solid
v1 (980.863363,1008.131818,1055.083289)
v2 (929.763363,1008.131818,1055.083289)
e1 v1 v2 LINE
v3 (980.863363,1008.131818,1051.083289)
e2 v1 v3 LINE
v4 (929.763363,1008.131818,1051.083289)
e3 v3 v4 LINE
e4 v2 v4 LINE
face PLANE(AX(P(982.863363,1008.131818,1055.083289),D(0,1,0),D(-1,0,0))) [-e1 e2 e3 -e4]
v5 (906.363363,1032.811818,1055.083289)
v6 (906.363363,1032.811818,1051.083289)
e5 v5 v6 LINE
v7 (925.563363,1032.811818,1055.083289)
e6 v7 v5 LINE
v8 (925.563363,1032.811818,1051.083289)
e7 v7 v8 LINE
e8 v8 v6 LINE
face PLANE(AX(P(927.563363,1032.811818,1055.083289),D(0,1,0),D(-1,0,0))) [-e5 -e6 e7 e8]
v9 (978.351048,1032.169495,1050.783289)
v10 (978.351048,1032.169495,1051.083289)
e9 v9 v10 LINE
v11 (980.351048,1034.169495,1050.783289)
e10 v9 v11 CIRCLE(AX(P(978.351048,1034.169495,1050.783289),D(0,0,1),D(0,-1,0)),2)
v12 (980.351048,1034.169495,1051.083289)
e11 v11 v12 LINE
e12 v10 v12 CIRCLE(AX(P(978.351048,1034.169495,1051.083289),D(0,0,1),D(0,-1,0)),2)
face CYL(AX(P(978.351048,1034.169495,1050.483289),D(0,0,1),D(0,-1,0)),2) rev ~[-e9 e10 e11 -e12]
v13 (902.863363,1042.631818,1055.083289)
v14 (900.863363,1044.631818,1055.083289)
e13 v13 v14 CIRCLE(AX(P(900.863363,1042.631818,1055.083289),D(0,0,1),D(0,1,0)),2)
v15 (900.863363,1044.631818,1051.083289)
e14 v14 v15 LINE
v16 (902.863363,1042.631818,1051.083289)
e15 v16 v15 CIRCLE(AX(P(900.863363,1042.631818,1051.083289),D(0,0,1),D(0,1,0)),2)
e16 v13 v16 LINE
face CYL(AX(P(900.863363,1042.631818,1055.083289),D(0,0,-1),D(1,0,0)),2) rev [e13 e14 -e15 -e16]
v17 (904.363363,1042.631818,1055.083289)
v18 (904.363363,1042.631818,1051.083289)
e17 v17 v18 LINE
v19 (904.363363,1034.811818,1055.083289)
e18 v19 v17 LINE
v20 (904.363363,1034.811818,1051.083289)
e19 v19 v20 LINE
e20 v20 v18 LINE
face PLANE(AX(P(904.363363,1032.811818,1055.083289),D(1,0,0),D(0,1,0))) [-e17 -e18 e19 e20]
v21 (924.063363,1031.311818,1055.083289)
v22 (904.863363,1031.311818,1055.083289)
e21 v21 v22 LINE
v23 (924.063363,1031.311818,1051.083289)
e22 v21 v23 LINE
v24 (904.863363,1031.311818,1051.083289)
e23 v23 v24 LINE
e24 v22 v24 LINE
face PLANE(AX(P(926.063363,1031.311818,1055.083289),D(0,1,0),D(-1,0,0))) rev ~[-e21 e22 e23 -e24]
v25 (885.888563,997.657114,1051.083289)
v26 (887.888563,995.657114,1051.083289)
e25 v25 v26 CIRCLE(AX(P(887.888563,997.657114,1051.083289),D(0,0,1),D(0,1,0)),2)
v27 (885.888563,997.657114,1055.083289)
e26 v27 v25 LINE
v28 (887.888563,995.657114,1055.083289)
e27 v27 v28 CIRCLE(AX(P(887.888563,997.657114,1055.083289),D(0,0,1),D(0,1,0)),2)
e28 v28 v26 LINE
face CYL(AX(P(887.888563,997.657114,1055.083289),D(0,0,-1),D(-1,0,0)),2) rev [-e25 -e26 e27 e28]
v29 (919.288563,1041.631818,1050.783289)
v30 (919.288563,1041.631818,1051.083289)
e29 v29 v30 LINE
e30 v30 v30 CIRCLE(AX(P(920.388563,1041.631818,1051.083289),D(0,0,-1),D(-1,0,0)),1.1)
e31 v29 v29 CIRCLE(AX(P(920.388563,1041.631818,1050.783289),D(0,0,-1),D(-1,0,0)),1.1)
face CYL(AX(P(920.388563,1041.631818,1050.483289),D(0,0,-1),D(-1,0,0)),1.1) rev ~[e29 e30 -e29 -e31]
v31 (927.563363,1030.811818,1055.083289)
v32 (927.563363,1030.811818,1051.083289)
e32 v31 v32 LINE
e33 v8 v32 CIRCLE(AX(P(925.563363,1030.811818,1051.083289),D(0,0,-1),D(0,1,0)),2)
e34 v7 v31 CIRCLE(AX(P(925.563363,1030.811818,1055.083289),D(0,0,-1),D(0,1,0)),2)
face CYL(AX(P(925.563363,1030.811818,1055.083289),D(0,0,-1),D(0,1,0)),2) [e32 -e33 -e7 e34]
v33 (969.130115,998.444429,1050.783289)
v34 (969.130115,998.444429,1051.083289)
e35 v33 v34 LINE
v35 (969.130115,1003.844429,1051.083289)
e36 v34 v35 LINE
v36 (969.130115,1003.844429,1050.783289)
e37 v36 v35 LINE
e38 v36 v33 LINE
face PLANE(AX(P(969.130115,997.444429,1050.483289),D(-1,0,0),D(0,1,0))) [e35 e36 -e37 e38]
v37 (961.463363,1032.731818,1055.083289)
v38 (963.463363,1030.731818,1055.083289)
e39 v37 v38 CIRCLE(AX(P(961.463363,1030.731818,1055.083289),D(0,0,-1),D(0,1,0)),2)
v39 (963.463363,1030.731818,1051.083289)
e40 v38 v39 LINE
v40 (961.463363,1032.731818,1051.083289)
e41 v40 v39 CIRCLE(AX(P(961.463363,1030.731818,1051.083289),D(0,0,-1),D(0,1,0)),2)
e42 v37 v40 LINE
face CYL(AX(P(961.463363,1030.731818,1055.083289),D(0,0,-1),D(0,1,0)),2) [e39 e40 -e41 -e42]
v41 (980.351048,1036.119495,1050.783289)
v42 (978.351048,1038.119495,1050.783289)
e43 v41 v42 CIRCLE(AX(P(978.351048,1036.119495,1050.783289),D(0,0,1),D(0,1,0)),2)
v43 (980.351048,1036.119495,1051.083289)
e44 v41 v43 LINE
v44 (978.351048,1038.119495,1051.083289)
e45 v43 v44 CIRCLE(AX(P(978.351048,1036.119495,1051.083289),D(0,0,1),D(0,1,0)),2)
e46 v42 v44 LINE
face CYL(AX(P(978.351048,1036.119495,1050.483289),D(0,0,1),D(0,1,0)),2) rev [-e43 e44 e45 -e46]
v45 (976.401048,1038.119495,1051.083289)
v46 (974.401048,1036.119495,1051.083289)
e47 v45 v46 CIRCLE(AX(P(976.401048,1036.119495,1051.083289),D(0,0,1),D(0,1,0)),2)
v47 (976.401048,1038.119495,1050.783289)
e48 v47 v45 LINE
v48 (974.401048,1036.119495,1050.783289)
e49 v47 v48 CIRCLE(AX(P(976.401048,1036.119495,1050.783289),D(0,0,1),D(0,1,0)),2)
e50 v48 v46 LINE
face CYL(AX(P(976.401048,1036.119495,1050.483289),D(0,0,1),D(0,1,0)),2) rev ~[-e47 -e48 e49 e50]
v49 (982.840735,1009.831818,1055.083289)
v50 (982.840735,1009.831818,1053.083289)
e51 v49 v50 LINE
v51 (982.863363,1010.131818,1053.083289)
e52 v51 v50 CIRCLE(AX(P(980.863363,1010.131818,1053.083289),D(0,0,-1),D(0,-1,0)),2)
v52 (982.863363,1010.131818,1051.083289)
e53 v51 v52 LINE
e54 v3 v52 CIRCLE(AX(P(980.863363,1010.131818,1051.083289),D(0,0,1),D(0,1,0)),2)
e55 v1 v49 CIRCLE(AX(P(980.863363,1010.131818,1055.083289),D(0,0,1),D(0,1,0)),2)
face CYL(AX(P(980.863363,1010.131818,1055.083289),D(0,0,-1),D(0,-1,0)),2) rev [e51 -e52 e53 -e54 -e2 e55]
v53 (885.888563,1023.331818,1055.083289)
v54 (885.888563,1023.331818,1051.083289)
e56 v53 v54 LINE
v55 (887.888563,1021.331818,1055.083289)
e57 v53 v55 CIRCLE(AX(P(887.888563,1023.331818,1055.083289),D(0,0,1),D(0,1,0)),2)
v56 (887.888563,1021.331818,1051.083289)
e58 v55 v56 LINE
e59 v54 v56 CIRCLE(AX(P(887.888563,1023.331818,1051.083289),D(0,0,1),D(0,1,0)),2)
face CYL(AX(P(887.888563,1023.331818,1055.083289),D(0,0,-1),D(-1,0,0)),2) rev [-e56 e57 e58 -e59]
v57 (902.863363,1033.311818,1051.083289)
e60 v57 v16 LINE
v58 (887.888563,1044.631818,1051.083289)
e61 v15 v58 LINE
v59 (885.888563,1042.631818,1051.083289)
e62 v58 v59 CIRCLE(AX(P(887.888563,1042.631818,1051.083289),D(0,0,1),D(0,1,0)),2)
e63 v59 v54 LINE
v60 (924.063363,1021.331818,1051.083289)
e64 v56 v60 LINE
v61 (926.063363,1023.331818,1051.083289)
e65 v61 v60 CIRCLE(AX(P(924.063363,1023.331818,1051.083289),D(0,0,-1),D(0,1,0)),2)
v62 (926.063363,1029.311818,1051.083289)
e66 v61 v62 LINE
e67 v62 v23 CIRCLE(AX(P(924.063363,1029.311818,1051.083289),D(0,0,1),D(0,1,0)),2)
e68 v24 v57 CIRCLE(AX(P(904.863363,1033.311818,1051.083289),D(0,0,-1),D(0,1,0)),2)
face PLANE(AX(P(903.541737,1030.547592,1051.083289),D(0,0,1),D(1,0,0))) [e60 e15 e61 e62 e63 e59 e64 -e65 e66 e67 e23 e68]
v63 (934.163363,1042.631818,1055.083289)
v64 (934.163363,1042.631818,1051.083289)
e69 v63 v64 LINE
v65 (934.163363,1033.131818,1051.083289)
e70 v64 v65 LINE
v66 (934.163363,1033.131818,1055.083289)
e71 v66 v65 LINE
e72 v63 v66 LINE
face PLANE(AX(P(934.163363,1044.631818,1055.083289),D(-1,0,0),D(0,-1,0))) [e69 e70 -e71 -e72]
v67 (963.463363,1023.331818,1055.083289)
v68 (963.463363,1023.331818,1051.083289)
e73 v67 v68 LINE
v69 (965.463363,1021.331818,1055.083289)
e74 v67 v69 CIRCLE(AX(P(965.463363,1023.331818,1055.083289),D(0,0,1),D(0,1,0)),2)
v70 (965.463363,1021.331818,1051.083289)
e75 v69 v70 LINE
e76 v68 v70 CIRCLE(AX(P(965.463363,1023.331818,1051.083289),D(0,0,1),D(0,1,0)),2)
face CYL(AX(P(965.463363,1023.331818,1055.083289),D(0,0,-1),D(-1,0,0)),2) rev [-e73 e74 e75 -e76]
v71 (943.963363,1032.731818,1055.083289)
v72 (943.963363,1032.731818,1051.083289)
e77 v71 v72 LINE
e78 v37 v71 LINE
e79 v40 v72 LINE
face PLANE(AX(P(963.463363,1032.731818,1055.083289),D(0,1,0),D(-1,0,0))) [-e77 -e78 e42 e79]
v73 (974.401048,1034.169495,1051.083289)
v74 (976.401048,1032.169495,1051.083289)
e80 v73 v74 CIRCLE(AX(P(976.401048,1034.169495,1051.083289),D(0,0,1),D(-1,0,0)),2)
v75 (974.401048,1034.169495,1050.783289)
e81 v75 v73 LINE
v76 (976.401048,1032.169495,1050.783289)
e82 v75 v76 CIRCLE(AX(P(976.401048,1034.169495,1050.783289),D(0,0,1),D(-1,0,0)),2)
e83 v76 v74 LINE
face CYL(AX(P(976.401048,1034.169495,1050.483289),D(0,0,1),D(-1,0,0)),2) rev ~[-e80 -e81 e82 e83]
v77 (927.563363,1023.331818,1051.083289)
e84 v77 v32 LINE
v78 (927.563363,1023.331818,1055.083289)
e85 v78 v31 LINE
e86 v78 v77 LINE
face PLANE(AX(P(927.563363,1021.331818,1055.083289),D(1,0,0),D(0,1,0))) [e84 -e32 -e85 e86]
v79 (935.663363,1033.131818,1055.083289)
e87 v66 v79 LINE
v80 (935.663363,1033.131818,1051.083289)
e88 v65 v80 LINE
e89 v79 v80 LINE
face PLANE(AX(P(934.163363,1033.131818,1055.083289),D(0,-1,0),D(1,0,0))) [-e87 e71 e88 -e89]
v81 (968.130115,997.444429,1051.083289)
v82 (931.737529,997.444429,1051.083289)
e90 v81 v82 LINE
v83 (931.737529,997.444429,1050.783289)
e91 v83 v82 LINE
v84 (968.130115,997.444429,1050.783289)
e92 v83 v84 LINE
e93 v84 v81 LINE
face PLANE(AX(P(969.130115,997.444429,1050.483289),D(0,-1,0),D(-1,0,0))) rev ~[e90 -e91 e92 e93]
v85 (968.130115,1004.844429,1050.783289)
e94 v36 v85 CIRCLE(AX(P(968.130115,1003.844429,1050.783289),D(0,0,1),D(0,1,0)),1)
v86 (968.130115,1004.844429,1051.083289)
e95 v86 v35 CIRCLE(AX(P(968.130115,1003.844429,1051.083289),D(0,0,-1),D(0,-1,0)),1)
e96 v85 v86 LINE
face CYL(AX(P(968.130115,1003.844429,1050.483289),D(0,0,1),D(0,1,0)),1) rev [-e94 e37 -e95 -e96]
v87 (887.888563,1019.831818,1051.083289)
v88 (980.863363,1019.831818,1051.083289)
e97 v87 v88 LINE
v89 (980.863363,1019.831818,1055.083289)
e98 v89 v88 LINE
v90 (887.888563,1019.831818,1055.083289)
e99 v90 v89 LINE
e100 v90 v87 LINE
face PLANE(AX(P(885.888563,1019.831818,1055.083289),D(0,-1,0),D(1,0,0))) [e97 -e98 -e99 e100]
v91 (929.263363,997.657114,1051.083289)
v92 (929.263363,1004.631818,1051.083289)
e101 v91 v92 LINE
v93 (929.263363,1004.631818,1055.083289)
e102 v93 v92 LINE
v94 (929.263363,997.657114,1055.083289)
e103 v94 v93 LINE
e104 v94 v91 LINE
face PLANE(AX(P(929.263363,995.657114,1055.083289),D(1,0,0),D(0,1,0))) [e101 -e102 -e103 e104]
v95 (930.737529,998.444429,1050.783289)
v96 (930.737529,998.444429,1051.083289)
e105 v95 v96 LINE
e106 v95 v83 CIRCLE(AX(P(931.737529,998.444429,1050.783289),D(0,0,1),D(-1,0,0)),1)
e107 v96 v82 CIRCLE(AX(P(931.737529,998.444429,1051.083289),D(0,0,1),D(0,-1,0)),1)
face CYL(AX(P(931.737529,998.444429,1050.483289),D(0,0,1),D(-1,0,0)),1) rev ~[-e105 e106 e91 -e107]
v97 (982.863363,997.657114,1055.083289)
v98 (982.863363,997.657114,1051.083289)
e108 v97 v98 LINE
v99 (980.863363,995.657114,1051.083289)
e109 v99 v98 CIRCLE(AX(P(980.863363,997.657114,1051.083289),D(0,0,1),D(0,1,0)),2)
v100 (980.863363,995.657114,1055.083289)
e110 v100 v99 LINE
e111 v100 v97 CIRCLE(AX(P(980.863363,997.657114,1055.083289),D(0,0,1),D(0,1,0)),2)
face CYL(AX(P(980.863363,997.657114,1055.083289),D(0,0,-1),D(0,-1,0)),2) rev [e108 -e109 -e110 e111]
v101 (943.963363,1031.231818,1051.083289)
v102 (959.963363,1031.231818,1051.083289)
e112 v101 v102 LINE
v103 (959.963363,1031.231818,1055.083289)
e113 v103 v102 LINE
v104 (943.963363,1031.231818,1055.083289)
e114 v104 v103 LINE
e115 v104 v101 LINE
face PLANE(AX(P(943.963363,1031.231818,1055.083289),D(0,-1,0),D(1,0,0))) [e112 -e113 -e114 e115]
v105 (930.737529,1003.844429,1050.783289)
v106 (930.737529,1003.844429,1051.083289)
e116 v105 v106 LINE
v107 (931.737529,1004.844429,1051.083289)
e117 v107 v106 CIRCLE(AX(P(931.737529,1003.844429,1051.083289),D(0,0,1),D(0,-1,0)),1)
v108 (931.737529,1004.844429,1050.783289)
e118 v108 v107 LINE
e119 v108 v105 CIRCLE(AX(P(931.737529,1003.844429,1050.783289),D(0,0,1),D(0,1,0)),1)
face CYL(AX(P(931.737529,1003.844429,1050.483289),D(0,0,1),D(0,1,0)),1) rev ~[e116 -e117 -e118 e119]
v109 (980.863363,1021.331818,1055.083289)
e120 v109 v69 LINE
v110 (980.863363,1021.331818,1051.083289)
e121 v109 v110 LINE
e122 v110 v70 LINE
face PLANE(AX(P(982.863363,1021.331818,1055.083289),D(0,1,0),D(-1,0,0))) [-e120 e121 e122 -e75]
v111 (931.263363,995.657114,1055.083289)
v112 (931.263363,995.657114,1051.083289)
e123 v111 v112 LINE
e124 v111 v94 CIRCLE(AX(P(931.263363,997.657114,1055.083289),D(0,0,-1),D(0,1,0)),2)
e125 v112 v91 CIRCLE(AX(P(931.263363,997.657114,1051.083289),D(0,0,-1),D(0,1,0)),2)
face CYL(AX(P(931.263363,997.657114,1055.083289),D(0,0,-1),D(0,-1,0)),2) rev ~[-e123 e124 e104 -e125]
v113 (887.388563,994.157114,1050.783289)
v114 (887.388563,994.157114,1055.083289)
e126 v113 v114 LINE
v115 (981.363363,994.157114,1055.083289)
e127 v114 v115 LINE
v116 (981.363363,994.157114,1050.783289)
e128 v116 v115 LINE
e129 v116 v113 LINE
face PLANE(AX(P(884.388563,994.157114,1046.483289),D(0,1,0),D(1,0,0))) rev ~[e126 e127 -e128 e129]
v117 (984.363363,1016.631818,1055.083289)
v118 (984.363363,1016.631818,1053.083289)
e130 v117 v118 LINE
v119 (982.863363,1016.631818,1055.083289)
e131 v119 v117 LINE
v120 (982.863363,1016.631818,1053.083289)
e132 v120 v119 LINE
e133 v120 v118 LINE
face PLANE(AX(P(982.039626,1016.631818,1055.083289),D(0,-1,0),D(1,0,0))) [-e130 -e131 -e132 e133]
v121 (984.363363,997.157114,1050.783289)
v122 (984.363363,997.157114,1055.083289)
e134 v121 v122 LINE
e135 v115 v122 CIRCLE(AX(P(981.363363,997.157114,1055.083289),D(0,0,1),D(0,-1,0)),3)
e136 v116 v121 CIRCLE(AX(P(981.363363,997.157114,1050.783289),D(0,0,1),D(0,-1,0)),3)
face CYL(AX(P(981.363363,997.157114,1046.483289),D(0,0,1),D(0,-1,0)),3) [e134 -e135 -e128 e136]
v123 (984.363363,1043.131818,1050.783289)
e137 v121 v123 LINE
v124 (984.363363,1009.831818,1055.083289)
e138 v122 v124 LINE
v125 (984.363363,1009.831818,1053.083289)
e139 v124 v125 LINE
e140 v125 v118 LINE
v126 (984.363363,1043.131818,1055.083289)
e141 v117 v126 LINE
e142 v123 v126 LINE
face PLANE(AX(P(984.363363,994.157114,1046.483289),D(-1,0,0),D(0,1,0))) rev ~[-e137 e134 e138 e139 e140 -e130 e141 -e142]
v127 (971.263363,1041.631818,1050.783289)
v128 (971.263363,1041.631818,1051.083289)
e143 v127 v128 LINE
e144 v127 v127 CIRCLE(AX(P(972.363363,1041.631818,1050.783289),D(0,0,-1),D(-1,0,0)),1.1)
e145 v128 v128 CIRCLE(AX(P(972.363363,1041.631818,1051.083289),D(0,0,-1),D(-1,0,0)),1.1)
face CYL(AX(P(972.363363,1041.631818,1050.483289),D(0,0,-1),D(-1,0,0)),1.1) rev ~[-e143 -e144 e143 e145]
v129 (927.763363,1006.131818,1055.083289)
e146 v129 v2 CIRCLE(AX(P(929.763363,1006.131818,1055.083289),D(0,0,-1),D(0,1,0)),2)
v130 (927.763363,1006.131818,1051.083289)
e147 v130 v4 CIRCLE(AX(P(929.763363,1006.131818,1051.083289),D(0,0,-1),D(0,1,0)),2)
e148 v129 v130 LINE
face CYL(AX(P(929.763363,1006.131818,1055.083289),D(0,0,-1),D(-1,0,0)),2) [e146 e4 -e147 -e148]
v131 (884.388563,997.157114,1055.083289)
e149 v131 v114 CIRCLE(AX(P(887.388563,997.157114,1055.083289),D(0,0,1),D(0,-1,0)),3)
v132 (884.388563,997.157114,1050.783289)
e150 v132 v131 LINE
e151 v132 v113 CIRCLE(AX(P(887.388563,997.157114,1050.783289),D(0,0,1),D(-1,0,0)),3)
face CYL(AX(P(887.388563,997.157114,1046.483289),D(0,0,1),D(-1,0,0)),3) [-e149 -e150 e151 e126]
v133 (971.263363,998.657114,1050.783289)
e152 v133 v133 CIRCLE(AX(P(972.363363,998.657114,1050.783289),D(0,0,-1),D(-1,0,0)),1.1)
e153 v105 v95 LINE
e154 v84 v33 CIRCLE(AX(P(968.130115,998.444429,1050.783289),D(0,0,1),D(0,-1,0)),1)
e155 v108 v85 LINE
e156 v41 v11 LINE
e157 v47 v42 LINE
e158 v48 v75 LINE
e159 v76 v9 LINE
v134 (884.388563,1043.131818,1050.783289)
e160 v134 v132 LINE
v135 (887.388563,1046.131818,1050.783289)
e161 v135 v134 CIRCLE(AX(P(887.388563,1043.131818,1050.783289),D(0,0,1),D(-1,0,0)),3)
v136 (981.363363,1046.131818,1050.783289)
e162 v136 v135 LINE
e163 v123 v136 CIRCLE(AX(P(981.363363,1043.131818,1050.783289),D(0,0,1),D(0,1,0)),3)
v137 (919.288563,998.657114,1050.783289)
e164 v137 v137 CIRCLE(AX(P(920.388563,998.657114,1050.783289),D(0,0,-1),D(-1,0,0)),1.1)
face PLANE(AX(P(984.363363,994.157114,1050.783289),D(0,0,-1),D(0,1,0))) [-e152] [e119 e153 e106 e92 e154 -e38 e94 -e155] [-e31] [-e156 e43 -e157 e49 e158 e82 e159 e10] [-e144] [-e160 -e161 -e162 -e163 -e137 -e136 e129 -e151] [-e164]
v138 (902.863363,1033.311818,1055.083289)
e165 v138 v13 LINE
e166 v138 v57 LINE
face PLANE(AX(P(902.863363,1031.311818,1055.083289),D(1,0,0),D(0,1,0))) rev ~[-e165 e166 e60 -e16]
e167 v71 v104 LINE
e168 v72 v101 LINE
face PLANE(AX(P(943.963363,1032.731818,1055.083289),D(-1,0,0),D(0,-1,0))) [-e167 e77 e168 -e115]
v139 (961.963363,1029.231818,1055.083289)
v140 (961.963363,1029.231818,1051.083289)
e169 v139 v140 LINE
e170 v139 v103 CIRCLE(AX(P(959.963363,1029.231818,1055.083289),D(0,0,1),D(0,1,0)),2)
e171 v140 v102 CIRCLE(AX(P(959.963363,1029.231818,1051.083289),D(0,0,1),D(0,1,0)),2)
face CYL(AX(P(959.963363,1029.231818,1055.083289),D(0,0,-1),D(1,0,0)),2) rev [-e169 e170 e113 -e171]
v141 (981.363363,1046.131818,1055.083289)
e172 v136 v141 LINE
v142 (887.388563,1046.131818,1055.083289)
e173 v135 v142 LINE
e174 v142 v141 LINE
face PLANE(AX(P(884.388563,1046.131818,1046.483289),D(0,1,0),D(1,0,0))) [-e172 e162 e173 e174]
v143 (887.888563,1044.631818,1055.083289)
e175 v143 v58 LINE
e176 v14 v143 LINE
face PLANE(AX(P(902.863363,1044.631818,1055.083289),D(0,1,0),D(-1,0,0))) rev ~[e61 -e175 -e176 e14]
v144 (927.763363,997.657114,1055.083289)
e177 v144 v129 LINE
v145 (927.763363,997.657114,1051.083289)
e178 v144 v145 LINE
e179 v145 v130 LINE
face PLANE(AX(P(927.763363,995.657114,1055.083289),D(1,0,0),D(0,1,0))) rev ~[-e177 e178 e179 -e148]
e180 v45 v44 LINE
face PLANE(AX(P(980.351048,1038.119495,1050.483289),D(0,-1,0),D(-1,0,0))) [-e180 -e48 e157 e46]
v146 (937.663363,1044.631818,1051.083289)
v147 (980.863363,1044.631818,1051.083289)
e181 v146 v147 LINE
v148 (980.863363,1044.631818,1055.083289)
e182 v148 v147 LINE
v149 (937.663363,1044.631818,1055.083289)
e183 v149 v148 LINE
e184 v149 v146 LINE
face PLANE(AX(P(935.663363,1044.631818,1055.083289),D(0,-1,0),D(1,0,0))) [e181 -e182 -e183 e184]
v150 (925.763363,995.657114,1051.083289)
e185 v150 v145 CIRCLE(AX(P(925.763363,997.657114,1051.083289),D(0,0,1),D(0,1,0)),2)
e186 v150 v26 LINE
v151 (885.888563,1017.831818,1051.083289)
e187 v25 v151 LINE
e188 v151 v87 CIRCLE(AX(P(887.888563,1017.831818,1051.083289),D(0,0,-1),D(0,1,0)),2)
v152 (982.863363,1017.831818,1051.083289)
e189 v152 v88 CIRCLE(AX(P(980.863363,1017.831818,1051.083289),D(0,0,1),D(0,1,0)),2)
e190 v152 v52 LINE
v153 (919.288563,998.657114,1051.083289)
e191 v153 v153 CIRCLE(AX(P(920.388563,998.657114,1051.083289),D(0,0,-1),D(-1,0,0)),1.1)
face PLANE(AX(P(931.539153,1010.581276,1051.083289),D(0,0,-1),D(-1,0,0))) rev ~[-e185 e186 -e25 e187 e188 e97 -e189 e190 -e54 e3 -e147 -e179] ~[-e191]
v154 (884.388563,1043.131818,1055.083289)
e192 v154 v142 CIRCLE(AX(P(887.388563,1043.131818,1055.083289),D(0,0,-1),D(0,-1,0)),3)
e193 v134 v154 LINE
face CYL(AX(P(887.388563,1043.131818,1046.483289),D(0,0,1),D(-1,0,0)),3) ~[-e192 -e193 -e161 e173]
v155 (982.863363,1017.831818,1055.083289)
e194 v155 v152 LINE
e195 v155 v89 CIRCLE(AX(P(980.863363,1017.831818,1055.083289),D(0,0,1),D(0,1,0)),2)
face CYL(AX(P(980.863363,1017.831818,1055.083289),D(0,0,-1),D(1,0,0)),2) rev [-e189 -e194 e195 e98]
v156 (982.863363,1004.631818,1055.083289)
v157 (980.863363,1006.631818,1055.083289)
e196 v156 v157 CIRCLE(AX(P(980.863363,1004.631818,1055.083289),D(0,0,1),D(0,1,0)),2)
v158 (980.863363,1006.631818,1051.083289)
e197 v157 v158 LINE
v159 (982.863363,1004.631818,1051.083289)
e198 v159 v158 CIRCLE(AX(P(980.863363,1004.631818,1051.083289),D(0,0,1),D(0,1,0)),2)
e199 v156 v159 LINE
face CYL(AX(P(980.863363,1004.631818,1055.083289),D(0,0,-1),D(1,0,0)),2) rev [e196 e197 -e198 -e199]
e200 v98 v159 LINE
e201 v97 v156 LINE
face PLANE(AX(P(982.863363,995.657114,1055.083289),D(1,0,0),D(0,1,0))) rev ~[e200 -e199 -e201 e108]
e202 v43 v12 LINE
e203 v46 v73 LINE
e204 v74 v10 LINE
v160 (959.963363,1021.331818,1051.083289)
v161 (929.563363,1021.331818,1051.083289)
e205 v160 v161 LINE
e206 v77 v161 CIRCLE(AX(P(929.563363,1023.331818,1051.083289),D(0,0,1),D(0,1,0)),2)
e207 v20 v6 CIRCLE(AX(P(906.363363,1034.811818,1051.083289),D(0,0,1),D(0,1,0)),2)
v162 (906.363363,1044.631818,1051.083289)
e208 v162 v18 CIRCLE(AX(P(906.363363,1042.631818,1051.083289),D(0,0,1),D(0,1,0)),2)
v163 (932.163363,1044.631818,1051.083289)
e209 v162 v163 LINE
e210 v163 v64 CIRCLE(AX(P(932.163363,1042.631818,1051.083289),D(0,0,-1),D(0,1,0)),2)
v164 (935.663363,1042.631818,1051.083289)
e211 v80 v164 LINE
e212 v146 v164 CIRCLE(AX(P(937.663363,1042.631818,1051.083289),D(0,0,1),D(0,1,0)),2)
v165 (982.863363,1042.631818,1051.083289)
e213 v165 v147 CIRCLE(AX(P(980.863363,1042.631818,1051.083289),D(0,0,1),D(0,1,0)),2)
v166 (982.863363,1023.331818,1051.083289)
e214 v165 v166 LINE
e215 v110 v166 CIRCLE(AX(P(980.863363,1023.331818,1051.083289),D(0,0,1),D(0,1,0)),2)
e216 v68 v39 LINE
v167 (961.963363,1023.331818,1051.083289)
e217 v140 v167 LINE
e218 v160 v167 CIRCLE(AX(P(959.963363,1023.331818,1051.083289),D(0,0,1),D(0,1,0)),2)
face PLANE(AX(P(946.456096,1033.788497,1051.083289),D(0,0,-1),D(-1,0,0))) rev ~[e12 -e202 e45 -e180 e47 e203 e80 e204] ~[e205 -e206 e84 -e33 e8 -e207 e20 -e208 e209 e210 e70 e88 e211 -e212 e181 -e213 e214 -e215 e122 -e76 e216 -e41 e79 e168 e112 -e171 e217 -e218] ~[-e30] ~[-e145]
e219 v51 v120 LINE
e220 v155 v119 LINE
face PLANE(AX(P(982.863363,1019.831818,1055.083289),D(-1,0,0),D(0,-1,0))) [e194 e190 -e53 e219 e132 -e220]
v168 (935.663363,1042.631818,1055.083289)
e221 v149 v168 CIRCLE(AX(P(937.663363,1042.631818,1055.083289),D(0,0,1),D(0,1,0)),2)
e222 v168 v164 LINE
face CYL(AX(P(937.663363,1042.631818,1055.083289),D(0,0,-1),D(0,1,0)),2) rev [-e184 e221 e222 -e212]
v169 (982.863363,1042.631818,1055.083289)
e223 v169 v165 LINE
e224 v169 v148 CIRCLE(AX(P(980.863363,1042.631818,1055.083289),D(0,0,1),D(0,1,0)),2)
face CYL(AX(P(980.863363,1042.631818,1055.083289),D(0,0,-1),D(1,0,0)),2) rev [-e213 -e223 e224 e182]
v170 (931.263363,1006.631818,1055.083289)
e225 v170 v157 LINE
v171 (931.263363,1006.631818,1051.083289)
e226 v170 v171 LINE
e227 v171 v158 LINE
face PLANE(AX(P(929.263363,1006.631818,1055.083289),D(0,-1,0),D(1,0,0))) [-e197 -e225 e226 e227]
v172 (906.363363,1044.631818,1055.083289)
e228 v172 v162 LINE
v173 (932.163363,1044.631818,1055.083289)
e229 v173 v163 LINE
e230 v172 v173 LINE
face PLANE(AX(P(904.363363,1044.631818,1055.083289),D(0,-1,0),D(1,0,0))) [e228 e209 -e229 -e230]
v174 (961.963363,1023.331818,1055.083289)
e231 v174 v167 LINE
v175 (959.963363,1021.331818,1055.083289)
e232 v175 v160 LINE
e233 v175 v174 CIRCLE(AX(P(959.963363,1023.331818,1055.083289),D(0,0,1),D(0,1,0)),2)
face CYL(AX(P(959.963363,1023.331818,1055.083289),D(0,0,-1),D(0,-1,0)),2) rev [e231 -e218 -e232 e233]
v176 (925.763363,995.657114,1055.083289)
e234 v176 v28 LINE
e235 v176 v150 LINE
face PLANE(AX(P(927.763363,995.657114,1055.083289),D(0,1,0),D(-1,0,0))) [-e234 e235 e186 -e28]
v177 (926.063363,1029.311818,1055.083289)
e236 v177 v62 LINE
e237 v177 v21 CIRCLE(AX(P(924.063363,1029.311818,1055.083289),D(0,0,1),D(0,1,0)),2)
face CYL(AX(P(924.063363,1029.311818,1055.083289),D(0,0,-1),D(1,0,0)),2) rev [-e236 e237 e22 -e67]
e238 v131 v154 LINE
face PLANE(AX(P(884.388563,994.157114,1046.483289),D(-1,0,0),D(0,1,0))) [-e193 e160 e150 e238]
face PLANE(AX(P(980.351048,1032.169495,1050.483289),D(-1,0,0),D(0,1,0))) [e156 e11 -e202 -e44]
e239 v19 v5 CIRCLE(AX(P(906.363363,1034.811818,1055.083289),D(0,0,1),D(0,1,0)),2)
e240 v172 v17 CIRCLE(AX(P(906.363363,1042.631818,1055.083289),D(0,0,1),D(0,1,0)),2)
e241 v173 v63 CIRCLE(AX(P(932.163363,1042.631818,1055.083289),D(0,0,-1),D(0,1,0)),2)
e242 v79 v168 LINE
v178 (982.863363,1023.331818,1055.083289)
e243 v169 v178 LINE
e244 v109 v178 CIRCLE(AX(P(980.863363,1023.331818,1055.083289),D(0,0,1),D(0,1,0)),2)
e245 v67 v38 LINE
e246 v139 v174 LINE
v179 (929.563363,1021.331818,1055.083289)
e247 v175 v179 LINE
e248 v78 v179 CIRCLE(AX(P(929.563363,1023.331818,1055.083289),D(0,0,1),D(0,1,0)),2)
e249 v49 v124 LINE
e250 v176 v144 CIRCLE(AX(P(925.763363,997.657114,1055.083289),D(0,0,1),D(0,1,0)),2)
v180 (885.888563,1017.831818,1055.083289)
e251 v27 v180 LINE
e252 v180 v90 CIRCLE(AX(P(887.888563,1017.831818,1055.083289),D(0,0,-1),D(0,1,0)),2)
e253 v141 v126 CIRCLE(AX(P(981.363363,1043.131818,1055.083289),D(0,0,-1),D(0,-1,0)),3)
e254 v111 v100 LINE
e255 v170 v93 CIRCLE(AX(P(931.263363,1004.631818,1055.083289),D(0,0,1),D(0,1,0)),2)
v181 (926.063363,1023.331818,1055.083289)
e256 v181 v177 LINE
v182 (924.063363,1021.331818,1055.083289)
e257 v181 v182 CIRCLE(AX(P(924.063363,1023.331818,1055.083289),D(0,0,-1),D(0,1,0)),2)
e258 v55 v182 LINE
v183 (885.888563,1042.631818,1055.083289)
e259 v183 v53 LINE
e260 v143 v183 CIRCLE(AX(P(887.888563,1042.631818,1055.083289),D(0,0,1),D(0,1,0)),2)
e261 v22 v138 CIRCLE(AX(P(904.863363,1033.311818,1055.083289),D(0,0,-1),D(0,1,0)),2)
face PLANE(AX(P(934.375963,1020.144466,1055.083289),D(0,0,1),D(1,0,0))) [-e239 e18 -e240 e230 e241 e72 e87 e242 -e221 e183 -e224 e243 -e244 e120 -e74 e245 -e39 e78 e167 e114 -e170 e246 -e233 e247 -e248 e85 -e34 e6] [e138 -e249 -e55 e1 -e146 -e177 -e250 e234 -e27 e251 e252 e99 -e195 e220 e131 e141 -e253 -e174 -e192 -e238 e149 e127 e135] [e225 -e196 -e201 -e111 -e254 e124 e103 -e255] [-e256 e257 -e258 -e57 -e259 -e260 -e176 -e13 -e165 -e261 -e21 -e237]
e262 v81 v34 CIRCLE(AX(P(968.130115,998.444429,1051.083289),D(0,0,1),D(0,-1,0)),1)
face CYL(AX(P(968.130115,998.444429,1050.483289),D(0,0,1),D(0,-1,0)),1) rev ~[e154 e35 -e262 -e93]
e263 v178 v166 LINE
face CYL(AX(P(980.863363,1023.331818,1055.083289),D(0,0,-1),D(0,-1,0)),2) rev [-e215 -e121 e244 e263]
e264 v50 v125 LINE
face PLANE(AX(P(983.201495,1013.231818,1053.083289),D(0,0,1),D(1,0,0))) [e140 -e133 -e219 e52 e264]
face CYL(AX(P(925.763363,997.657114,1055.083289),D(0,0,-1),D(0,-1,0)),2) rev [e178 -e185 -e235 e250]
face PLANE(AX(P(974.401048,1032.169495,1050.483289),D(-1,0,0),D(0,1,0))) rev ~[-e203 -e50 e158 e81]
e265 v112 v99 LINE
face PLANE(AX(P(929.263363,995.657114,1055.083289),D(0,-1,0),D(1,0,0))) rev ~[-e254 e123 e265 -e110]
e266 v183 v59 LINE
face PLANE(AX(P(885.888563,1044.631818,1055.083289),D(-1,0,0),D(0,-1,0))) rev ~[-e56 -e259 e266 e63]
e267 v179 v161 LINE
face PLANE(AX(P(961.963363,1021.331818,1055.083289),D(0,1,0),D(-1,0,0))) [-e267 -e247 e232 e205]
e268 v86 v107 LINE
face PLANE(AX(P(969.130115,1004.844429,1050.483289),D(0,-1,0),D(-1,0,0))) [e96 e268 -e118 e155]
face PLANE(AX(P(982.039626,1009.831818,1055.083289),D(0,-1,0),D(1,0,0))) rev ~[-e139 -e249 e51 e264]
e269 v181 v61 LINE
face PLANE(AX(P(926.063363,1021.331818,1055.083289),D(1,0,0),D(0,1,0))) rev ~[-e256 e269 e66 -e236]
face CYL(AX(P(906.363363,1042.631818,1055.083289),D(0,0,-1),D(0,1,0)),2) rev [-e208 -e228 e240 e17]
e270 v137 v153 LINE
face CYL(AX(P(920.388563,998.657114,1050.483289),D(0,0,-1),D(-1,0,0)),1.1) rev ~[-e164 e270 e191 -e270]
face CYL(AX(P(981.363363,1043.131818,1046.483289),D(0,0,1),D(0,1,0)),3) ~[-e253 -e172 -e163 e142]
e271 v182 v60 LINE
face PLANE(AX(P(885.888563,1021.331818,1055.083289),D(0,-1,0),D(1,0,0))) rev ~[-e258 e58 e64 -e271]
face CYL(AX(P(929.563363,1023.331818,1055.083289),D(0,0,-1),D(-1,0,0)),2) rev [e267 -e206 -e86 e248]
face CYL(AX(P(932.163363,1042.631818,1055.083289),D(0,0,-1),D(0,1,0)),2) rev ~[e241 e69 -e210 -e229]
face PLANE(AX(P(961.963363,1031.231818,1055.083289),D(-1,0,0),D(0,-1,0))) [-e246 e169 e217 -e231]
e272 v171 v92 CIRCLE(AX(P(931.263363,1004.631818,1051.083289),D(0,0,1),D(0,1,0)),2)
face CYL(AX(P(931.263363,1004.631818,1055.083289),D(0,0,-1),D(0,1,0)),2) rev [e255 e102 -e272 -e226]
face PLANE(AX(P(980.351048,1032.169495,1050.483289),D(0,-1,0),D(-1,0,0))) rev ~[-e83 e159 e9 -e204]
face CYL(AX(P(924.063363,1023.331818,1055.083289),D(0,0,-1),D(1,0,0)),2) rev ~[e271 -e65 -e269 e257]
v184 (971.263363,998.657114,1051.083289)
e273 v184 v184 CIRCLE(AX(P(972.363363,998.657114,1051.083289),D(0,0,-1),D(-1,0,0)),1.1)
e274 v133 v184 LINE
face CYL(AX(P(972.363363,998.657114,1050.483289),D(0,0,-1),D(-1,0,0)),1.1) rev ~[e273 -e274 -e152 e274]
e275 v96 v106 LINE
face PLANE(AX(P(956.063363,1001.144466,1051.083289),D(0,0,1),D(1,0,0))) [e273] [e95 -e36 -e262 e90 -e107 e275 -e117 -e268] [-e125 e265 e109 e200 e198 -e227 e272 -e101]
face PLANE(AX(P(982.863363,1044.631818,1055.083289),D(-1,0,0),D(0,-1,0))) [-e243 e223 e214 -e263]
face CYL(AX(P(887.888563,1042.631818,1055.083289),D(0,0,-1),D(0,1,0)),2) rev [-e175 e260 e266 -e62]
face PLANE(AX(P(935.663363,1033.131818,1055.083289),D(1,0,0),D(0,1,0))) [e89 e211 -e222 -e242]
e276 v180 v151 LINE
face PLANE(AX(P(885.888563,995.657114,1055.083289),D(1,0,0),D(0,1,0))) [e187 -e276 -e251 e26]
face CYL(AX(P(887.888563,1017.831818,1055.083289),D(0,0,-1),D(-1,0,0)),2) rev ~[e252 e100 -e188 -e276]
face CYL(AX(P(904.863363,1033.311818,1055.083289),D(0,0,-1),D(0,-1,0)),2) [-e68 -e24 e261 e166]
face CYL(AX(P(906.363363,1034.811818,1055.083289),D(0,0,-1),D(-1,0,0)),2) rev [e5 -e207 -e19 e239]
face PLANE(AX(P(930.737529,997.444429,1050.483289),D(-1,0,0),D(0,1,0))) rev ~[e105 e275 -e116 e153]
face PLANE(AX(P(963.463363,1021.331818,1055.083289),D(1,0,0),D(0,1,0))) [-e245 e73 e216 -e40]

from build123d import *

# Parameters (mm, degrees)
SKETCH_1_W           = 99.974800609
SKETCH_1_H           = 51.97470409
EXTRUDE_1_DEPTH      = 8.6
SKETCH_2_W           = 95.974800609
SKETCH_2_H           = 47.97470409
CUT_EXTRUDE_1_DEPTH  = 4
SKETCH_3_W           = 2
SKETCH_3_H           = 10
SKETCH_3_H_2         = 9.97470409
CUT_EXTRUDE_2_DEPTH  = 3.35
SKETCH_4_R           = 1.1
SKETCH_4_W           = 38.392586289
SKETCH_4_H           = 7.4
SKETCH_4_W_2         = 5.95
SKETCH_4_H_2         = 5.95
CUT_EXTRUDE_3_DEPTH  = 1437.448457956
FILLET_1_R           = 3
FILLET_3_R           = 2
SKETCH_12_W          = 9.000025401
SKETCH_12_H          = 9.0000508
EXTRUDE_3_DEPTH      = 2.7
SKETCH_13_W          = 16.992125984
SKETCH_13_H          = 17.047314393
EXTRUDE_4_DEPTH      = 1.9
SKETCH_7_W           = 53.6
SKETCH_7_H           = 10.97470409
CUT_EXTRUDE_14_DEPTH = 4
FILLET_7_R           = 2
FILLET_8_R           = 1
SKETCH_14_W          = 2.323736835
SKETCH_14_H          = 6.8
CUT_EXTRUDE_15_DEPTH = 2
SKETCH_15_W          = 4.3
SKETCH_15_H          = 51.97470409
CUT_EXTRUDE_16_DEPTH = 1490.156636733


with BuildPart() as part:
    # 草图1 → 凸台-拉伸1 (new body)
    with BuildSketch(Plane.XY.offset(1046.483288979)):
        with Locations((934.375963031, 1020.144466268)):
            Rectangle(SKETCH_1_W, SKETCH_1_H)
    extrude(amount=EXTRUDE_1_DEPTH)

    # 草图2 → 切除-拉伸1 (cut)
    with BuildSketch(Plane(origin=(0, 0, 1046.483288979), x_dir=(-1, 0, 0), z_dir=(0, 0, -1))):
        with Locations((-934.375963031, 1020.144466268)):
            Rectangle(SKETCH_2_W, SKETCH_2_H)
    extrude(amount=-CUT_EXTRUDE_1_DEPTH, mode=Mode.SUBTRACT)

    # 草图3 → 切除-拉伸2 (cut)
    with BuildSketch(Plane(origin=(0, 0, 1046.483288979), x_dir=(-1, 0, 0), z_dir=(0, 0, -1))):
        with Locations((-885.388562726, 1034.131818313)):
            Rectangle(SKETCH_3_W, SKETCH_3_H)
        with Locations((-885.388562726, 1020.144466268)):
            Rectangle(SKETCH_3_W, SKETCH_3_H_2)
        with Locations((-885.388562726, 1006.157114223)):
            Rectangle(SKETCH_3_W, SKETCH_3_H)
    extrude(amount=-CUT_EXTRUDE_2_DEPTH, mode=Mode.SUBTRACT)

    # 草图4 → 切除-拉伸3 (cut, through all)
    with BuildSketch(Plane(origin=(0, 0, 1050.483288979), x_dir=(-1, 0, 0), z_dir=(0, 0, -1))):
        with Locations((-920.388562726, 1041.631818313)):
            Circle(SKETCH_4_R)
        with Locations((-920.388562726, 998.657114223)):
            Circle(SKETCH_4_R)
        with Locations((-972.363363335, 998.657114223)):
            Circle(SKETCH_4_R)
        with Locations((-972.363363335, 1041.631818313)):
            Circle(SKETCH_4_R)
        with Locations((-949.933821712, 1001.144429438)):
            Rectangle(SKETCH_4_W, SKETCH_4_H)
        with Locations((-977.376048121, 1035.144495478)):
            Rectangle(SKETCH_4_W_2, SKETCH_4_H_2)
    extrude(amount=-CUT_EXTRUDE_3_DEPTH, mode=Mode.SUBTRACT)

    # 圆角1
    fillet_1_edges = [part.edges().sort_by_distance(p)[0] for p in [
        (884.388562726, 1046.131818313, 1050.783288979),
        (984.363363335, 1046.131818313, 1050.783288979),
        (984.363363335, 994.157114223, 1050.783288979),
        (884.388562726, 994.157114223, 1050.783288979),
    ]]
    fillet(fillet_1_edges, radius=FILLET_1_R)

    # 圆角3
    fillet_3_edges = [part.edges().sort_by_distance(p)[0] for p in [
        (980.351048121, 1032.169495478, 1052.783288979),
        (980.351048121, 1038.119495478, 1052.783288979),
        (974.401048121, 1038.119495478, 1052.783288979),
        (974.401048121, 1032.169495478, 1052.783288979),
    ]]
    fillet(fillet_3_edges, radius=FILLET_3_R)

    # 草图12 → 凸台-拉伸3 (add)
    with BuildSketch(Plane(origin=(0, 0, 1050.483288979), x_dir=(-1, 0, 0), z_dir=(0, 0, -1))):
        with Locations((-955.369926709, 1022.842410134)):
            Rectangle(SKETCH_12_W, SKETCH_12_H)
    extrude(amount=EXTRUDE_3_DEPTH)

    # 草图13 → 凸台-拉伸4 (add)
    with BuildSketch(Plane(origin=(0, 0, 1050.483288979), x_dir=(-1, 0, 0), z_dir=(0, 0, -1))):
        with Locations((-935.979052947, 1018.778239857)):
            Rectangle(SKETCH_13_W, SKETCH_13_H)
    extrude(amount=EXTRUDE_4_DEPTH)

    # 草图7 → 切除-拉伸14 (cut)
    with BuildSketch(Plane.XY.offset(1055.083288979)):
        Polygon((885.888562726, 1019.831818313), (982.863363335, 1019.831818313), (982.863363335, 1008.131818313), (927.763363335, 1008.131818313), (927.763363335, 1006.631818313), (927.763363335, 995.657114223), (885.888562726, 995.657114223), align=None)
        Polygon((934.163363335, 1044.631818313), (934.163363335, 1033.131818313), (935.663363335, 1033.131818313), (935.663363335, 1044.631818313), (982.863363335, 1044.631818313), (982.863363335, 1021.331818313), (963.463363335, 1021.331818313), (963.463363335, 1032.731818313), (943.963363335, 1032.731818313), (943.963363335, 1031.231818313), (961.963363335, 1031.231818313), (961.963363335, 1021.331818313), (927.563363335, 1021.331818313), (927.563363335, 1032.811818313), (904.363363335, 1032.811818313), (904.363363335, 1044.631818313), align=None)
        with Locations((956.063363335, 1001.144466268)):
            Rectangle(SKETCH_7_W, SKETCH_7_H)
        Polygon((926.063363335, 1021.331818313), (926.063363335, 1031.311818313), (902.863363335, 1031.311818313), (902.863363335, 1044.631818313), (885.888562726, 1044.631818313), (885.888562726, 1021.331818313), align=None)
    extrude(amount=-CUT_EXTRUDE_14_DEPTH, mode=Mode.SUBTRACT)

    # 圆角7
    fillet_7_edges = [part.edges().sort_by_distance(p)[0] for p in [
        (982.363363335, 996.157114223, 1048.483288979),
        (982.363363335, 1044.131818313, 1048.483288979),
        (886.388562726, 1044.131818313, 1048.483288979),
        (886.388562726, 996.157114223, 1048.483288979),
        (982.863363335, 995.657114223, 1053.083288979),
        (929.263363335, 995.657114223, 1053.083288979),
        (929.263363335, 1006.631818313, 1053.083288979),
        (982.863363335, 1006.631818313, 1053.083288979),
        (961.963363335, 1021.331818313, 1053.083288979),
        (927.563363335, 1021.331818313, 1053.083288979),
        (927.563363335, 1032.811818313, 1053.083288979),
        (904.363363335, 1032.811818313, 1053.083288979),
        (904.363363335, 1044.631818313, 1053.083288979),
        (934.163363335, 1044.631818313, 1053.083288979),
        (935.663363335, 1044.631818313, 1053.083288979),
        (982.863363335, 1044.631818313, 1053.083288979),
        (982.863363335, 1021.331818313, 1053.083288979),
        (963.463363335, 1021.331818313, 1053.083288979),
        (963.463363335, 1032.731818313, 1053.083288979),
        (961.963363335, 1031.231818313, 1053.083288979),
        (885.888562726, 1021.331818313, 1053.083288979),
        (885.888562726, 1044.631818313, 1053.083288979),
        (902.863363335, 1044.631818313, 1053.083288979),
        (902.863363335, 1031.311818313, 1053.083288979),
        (926.063363335, 1031.311818313, 1053.083288979),
        (926.063363335, 1021.331818313, 1053.083288979),
        (927.763363335, 995.657114223, 1053.083288979),
        (885.888562726, 995.657114223, 1053.083288979),
        (885.888562726, 1019.831818313, 1053.083288979),
        (982.863363335, 1019.831818313, 1053.083288979),
        (982.863363335, 1008.131818313, 1053.083288979),
        (927.763363335, 1008.131818313, 1053.083288979),
    ]]
    fillet(fillet_7_edges, radius=FILLET_7_R)

    # 圆角8
    fillet_8_edges = [part.edges().sort_by_distance(p)[0] for p in [
        (930.737528567, 997.444429438, 1050.783288979),
        (969.130114856, 997.444429438, 1050.783288979),
        (930.737528567, 1004.844429438, 1050.783288979),
        (969.130114856, 1004.844429438, 1050.783288979),
    ]]
    fillet(fillet_8_edges, radius=FILLET_8_R)

    # 草图14 → 切除-拉伸15 (cut)
    with BuildSketch(Plane.XY.offset(1055.083288979)):
        with Locations((983.201494917, 1013.231818313)):
            Rectangle(SKETCH_14_W, SKETCH_14_H)
    extrude(amount=-CUT_EXTRUDE_15_DEPTH, mode=Mode.SUBTRACT)

    # 草图15 → 切除-拉伸16 (cut, through all)
    with BuildSketch(Plane(origin=(984.363363335, 0, 0), x_dir=(0, 0, -1), z_dir=(1, 0, 0))):
        with Locations((-1048.633288979, 1020.144466268)):
            Rectangle(SKETCH_15_W, SKETCH_15_H)
    extrude(amount=-CUT_EXTRUDE_16_DEPTH, mode=Mode.SUBTRACT)


solid = part.part
